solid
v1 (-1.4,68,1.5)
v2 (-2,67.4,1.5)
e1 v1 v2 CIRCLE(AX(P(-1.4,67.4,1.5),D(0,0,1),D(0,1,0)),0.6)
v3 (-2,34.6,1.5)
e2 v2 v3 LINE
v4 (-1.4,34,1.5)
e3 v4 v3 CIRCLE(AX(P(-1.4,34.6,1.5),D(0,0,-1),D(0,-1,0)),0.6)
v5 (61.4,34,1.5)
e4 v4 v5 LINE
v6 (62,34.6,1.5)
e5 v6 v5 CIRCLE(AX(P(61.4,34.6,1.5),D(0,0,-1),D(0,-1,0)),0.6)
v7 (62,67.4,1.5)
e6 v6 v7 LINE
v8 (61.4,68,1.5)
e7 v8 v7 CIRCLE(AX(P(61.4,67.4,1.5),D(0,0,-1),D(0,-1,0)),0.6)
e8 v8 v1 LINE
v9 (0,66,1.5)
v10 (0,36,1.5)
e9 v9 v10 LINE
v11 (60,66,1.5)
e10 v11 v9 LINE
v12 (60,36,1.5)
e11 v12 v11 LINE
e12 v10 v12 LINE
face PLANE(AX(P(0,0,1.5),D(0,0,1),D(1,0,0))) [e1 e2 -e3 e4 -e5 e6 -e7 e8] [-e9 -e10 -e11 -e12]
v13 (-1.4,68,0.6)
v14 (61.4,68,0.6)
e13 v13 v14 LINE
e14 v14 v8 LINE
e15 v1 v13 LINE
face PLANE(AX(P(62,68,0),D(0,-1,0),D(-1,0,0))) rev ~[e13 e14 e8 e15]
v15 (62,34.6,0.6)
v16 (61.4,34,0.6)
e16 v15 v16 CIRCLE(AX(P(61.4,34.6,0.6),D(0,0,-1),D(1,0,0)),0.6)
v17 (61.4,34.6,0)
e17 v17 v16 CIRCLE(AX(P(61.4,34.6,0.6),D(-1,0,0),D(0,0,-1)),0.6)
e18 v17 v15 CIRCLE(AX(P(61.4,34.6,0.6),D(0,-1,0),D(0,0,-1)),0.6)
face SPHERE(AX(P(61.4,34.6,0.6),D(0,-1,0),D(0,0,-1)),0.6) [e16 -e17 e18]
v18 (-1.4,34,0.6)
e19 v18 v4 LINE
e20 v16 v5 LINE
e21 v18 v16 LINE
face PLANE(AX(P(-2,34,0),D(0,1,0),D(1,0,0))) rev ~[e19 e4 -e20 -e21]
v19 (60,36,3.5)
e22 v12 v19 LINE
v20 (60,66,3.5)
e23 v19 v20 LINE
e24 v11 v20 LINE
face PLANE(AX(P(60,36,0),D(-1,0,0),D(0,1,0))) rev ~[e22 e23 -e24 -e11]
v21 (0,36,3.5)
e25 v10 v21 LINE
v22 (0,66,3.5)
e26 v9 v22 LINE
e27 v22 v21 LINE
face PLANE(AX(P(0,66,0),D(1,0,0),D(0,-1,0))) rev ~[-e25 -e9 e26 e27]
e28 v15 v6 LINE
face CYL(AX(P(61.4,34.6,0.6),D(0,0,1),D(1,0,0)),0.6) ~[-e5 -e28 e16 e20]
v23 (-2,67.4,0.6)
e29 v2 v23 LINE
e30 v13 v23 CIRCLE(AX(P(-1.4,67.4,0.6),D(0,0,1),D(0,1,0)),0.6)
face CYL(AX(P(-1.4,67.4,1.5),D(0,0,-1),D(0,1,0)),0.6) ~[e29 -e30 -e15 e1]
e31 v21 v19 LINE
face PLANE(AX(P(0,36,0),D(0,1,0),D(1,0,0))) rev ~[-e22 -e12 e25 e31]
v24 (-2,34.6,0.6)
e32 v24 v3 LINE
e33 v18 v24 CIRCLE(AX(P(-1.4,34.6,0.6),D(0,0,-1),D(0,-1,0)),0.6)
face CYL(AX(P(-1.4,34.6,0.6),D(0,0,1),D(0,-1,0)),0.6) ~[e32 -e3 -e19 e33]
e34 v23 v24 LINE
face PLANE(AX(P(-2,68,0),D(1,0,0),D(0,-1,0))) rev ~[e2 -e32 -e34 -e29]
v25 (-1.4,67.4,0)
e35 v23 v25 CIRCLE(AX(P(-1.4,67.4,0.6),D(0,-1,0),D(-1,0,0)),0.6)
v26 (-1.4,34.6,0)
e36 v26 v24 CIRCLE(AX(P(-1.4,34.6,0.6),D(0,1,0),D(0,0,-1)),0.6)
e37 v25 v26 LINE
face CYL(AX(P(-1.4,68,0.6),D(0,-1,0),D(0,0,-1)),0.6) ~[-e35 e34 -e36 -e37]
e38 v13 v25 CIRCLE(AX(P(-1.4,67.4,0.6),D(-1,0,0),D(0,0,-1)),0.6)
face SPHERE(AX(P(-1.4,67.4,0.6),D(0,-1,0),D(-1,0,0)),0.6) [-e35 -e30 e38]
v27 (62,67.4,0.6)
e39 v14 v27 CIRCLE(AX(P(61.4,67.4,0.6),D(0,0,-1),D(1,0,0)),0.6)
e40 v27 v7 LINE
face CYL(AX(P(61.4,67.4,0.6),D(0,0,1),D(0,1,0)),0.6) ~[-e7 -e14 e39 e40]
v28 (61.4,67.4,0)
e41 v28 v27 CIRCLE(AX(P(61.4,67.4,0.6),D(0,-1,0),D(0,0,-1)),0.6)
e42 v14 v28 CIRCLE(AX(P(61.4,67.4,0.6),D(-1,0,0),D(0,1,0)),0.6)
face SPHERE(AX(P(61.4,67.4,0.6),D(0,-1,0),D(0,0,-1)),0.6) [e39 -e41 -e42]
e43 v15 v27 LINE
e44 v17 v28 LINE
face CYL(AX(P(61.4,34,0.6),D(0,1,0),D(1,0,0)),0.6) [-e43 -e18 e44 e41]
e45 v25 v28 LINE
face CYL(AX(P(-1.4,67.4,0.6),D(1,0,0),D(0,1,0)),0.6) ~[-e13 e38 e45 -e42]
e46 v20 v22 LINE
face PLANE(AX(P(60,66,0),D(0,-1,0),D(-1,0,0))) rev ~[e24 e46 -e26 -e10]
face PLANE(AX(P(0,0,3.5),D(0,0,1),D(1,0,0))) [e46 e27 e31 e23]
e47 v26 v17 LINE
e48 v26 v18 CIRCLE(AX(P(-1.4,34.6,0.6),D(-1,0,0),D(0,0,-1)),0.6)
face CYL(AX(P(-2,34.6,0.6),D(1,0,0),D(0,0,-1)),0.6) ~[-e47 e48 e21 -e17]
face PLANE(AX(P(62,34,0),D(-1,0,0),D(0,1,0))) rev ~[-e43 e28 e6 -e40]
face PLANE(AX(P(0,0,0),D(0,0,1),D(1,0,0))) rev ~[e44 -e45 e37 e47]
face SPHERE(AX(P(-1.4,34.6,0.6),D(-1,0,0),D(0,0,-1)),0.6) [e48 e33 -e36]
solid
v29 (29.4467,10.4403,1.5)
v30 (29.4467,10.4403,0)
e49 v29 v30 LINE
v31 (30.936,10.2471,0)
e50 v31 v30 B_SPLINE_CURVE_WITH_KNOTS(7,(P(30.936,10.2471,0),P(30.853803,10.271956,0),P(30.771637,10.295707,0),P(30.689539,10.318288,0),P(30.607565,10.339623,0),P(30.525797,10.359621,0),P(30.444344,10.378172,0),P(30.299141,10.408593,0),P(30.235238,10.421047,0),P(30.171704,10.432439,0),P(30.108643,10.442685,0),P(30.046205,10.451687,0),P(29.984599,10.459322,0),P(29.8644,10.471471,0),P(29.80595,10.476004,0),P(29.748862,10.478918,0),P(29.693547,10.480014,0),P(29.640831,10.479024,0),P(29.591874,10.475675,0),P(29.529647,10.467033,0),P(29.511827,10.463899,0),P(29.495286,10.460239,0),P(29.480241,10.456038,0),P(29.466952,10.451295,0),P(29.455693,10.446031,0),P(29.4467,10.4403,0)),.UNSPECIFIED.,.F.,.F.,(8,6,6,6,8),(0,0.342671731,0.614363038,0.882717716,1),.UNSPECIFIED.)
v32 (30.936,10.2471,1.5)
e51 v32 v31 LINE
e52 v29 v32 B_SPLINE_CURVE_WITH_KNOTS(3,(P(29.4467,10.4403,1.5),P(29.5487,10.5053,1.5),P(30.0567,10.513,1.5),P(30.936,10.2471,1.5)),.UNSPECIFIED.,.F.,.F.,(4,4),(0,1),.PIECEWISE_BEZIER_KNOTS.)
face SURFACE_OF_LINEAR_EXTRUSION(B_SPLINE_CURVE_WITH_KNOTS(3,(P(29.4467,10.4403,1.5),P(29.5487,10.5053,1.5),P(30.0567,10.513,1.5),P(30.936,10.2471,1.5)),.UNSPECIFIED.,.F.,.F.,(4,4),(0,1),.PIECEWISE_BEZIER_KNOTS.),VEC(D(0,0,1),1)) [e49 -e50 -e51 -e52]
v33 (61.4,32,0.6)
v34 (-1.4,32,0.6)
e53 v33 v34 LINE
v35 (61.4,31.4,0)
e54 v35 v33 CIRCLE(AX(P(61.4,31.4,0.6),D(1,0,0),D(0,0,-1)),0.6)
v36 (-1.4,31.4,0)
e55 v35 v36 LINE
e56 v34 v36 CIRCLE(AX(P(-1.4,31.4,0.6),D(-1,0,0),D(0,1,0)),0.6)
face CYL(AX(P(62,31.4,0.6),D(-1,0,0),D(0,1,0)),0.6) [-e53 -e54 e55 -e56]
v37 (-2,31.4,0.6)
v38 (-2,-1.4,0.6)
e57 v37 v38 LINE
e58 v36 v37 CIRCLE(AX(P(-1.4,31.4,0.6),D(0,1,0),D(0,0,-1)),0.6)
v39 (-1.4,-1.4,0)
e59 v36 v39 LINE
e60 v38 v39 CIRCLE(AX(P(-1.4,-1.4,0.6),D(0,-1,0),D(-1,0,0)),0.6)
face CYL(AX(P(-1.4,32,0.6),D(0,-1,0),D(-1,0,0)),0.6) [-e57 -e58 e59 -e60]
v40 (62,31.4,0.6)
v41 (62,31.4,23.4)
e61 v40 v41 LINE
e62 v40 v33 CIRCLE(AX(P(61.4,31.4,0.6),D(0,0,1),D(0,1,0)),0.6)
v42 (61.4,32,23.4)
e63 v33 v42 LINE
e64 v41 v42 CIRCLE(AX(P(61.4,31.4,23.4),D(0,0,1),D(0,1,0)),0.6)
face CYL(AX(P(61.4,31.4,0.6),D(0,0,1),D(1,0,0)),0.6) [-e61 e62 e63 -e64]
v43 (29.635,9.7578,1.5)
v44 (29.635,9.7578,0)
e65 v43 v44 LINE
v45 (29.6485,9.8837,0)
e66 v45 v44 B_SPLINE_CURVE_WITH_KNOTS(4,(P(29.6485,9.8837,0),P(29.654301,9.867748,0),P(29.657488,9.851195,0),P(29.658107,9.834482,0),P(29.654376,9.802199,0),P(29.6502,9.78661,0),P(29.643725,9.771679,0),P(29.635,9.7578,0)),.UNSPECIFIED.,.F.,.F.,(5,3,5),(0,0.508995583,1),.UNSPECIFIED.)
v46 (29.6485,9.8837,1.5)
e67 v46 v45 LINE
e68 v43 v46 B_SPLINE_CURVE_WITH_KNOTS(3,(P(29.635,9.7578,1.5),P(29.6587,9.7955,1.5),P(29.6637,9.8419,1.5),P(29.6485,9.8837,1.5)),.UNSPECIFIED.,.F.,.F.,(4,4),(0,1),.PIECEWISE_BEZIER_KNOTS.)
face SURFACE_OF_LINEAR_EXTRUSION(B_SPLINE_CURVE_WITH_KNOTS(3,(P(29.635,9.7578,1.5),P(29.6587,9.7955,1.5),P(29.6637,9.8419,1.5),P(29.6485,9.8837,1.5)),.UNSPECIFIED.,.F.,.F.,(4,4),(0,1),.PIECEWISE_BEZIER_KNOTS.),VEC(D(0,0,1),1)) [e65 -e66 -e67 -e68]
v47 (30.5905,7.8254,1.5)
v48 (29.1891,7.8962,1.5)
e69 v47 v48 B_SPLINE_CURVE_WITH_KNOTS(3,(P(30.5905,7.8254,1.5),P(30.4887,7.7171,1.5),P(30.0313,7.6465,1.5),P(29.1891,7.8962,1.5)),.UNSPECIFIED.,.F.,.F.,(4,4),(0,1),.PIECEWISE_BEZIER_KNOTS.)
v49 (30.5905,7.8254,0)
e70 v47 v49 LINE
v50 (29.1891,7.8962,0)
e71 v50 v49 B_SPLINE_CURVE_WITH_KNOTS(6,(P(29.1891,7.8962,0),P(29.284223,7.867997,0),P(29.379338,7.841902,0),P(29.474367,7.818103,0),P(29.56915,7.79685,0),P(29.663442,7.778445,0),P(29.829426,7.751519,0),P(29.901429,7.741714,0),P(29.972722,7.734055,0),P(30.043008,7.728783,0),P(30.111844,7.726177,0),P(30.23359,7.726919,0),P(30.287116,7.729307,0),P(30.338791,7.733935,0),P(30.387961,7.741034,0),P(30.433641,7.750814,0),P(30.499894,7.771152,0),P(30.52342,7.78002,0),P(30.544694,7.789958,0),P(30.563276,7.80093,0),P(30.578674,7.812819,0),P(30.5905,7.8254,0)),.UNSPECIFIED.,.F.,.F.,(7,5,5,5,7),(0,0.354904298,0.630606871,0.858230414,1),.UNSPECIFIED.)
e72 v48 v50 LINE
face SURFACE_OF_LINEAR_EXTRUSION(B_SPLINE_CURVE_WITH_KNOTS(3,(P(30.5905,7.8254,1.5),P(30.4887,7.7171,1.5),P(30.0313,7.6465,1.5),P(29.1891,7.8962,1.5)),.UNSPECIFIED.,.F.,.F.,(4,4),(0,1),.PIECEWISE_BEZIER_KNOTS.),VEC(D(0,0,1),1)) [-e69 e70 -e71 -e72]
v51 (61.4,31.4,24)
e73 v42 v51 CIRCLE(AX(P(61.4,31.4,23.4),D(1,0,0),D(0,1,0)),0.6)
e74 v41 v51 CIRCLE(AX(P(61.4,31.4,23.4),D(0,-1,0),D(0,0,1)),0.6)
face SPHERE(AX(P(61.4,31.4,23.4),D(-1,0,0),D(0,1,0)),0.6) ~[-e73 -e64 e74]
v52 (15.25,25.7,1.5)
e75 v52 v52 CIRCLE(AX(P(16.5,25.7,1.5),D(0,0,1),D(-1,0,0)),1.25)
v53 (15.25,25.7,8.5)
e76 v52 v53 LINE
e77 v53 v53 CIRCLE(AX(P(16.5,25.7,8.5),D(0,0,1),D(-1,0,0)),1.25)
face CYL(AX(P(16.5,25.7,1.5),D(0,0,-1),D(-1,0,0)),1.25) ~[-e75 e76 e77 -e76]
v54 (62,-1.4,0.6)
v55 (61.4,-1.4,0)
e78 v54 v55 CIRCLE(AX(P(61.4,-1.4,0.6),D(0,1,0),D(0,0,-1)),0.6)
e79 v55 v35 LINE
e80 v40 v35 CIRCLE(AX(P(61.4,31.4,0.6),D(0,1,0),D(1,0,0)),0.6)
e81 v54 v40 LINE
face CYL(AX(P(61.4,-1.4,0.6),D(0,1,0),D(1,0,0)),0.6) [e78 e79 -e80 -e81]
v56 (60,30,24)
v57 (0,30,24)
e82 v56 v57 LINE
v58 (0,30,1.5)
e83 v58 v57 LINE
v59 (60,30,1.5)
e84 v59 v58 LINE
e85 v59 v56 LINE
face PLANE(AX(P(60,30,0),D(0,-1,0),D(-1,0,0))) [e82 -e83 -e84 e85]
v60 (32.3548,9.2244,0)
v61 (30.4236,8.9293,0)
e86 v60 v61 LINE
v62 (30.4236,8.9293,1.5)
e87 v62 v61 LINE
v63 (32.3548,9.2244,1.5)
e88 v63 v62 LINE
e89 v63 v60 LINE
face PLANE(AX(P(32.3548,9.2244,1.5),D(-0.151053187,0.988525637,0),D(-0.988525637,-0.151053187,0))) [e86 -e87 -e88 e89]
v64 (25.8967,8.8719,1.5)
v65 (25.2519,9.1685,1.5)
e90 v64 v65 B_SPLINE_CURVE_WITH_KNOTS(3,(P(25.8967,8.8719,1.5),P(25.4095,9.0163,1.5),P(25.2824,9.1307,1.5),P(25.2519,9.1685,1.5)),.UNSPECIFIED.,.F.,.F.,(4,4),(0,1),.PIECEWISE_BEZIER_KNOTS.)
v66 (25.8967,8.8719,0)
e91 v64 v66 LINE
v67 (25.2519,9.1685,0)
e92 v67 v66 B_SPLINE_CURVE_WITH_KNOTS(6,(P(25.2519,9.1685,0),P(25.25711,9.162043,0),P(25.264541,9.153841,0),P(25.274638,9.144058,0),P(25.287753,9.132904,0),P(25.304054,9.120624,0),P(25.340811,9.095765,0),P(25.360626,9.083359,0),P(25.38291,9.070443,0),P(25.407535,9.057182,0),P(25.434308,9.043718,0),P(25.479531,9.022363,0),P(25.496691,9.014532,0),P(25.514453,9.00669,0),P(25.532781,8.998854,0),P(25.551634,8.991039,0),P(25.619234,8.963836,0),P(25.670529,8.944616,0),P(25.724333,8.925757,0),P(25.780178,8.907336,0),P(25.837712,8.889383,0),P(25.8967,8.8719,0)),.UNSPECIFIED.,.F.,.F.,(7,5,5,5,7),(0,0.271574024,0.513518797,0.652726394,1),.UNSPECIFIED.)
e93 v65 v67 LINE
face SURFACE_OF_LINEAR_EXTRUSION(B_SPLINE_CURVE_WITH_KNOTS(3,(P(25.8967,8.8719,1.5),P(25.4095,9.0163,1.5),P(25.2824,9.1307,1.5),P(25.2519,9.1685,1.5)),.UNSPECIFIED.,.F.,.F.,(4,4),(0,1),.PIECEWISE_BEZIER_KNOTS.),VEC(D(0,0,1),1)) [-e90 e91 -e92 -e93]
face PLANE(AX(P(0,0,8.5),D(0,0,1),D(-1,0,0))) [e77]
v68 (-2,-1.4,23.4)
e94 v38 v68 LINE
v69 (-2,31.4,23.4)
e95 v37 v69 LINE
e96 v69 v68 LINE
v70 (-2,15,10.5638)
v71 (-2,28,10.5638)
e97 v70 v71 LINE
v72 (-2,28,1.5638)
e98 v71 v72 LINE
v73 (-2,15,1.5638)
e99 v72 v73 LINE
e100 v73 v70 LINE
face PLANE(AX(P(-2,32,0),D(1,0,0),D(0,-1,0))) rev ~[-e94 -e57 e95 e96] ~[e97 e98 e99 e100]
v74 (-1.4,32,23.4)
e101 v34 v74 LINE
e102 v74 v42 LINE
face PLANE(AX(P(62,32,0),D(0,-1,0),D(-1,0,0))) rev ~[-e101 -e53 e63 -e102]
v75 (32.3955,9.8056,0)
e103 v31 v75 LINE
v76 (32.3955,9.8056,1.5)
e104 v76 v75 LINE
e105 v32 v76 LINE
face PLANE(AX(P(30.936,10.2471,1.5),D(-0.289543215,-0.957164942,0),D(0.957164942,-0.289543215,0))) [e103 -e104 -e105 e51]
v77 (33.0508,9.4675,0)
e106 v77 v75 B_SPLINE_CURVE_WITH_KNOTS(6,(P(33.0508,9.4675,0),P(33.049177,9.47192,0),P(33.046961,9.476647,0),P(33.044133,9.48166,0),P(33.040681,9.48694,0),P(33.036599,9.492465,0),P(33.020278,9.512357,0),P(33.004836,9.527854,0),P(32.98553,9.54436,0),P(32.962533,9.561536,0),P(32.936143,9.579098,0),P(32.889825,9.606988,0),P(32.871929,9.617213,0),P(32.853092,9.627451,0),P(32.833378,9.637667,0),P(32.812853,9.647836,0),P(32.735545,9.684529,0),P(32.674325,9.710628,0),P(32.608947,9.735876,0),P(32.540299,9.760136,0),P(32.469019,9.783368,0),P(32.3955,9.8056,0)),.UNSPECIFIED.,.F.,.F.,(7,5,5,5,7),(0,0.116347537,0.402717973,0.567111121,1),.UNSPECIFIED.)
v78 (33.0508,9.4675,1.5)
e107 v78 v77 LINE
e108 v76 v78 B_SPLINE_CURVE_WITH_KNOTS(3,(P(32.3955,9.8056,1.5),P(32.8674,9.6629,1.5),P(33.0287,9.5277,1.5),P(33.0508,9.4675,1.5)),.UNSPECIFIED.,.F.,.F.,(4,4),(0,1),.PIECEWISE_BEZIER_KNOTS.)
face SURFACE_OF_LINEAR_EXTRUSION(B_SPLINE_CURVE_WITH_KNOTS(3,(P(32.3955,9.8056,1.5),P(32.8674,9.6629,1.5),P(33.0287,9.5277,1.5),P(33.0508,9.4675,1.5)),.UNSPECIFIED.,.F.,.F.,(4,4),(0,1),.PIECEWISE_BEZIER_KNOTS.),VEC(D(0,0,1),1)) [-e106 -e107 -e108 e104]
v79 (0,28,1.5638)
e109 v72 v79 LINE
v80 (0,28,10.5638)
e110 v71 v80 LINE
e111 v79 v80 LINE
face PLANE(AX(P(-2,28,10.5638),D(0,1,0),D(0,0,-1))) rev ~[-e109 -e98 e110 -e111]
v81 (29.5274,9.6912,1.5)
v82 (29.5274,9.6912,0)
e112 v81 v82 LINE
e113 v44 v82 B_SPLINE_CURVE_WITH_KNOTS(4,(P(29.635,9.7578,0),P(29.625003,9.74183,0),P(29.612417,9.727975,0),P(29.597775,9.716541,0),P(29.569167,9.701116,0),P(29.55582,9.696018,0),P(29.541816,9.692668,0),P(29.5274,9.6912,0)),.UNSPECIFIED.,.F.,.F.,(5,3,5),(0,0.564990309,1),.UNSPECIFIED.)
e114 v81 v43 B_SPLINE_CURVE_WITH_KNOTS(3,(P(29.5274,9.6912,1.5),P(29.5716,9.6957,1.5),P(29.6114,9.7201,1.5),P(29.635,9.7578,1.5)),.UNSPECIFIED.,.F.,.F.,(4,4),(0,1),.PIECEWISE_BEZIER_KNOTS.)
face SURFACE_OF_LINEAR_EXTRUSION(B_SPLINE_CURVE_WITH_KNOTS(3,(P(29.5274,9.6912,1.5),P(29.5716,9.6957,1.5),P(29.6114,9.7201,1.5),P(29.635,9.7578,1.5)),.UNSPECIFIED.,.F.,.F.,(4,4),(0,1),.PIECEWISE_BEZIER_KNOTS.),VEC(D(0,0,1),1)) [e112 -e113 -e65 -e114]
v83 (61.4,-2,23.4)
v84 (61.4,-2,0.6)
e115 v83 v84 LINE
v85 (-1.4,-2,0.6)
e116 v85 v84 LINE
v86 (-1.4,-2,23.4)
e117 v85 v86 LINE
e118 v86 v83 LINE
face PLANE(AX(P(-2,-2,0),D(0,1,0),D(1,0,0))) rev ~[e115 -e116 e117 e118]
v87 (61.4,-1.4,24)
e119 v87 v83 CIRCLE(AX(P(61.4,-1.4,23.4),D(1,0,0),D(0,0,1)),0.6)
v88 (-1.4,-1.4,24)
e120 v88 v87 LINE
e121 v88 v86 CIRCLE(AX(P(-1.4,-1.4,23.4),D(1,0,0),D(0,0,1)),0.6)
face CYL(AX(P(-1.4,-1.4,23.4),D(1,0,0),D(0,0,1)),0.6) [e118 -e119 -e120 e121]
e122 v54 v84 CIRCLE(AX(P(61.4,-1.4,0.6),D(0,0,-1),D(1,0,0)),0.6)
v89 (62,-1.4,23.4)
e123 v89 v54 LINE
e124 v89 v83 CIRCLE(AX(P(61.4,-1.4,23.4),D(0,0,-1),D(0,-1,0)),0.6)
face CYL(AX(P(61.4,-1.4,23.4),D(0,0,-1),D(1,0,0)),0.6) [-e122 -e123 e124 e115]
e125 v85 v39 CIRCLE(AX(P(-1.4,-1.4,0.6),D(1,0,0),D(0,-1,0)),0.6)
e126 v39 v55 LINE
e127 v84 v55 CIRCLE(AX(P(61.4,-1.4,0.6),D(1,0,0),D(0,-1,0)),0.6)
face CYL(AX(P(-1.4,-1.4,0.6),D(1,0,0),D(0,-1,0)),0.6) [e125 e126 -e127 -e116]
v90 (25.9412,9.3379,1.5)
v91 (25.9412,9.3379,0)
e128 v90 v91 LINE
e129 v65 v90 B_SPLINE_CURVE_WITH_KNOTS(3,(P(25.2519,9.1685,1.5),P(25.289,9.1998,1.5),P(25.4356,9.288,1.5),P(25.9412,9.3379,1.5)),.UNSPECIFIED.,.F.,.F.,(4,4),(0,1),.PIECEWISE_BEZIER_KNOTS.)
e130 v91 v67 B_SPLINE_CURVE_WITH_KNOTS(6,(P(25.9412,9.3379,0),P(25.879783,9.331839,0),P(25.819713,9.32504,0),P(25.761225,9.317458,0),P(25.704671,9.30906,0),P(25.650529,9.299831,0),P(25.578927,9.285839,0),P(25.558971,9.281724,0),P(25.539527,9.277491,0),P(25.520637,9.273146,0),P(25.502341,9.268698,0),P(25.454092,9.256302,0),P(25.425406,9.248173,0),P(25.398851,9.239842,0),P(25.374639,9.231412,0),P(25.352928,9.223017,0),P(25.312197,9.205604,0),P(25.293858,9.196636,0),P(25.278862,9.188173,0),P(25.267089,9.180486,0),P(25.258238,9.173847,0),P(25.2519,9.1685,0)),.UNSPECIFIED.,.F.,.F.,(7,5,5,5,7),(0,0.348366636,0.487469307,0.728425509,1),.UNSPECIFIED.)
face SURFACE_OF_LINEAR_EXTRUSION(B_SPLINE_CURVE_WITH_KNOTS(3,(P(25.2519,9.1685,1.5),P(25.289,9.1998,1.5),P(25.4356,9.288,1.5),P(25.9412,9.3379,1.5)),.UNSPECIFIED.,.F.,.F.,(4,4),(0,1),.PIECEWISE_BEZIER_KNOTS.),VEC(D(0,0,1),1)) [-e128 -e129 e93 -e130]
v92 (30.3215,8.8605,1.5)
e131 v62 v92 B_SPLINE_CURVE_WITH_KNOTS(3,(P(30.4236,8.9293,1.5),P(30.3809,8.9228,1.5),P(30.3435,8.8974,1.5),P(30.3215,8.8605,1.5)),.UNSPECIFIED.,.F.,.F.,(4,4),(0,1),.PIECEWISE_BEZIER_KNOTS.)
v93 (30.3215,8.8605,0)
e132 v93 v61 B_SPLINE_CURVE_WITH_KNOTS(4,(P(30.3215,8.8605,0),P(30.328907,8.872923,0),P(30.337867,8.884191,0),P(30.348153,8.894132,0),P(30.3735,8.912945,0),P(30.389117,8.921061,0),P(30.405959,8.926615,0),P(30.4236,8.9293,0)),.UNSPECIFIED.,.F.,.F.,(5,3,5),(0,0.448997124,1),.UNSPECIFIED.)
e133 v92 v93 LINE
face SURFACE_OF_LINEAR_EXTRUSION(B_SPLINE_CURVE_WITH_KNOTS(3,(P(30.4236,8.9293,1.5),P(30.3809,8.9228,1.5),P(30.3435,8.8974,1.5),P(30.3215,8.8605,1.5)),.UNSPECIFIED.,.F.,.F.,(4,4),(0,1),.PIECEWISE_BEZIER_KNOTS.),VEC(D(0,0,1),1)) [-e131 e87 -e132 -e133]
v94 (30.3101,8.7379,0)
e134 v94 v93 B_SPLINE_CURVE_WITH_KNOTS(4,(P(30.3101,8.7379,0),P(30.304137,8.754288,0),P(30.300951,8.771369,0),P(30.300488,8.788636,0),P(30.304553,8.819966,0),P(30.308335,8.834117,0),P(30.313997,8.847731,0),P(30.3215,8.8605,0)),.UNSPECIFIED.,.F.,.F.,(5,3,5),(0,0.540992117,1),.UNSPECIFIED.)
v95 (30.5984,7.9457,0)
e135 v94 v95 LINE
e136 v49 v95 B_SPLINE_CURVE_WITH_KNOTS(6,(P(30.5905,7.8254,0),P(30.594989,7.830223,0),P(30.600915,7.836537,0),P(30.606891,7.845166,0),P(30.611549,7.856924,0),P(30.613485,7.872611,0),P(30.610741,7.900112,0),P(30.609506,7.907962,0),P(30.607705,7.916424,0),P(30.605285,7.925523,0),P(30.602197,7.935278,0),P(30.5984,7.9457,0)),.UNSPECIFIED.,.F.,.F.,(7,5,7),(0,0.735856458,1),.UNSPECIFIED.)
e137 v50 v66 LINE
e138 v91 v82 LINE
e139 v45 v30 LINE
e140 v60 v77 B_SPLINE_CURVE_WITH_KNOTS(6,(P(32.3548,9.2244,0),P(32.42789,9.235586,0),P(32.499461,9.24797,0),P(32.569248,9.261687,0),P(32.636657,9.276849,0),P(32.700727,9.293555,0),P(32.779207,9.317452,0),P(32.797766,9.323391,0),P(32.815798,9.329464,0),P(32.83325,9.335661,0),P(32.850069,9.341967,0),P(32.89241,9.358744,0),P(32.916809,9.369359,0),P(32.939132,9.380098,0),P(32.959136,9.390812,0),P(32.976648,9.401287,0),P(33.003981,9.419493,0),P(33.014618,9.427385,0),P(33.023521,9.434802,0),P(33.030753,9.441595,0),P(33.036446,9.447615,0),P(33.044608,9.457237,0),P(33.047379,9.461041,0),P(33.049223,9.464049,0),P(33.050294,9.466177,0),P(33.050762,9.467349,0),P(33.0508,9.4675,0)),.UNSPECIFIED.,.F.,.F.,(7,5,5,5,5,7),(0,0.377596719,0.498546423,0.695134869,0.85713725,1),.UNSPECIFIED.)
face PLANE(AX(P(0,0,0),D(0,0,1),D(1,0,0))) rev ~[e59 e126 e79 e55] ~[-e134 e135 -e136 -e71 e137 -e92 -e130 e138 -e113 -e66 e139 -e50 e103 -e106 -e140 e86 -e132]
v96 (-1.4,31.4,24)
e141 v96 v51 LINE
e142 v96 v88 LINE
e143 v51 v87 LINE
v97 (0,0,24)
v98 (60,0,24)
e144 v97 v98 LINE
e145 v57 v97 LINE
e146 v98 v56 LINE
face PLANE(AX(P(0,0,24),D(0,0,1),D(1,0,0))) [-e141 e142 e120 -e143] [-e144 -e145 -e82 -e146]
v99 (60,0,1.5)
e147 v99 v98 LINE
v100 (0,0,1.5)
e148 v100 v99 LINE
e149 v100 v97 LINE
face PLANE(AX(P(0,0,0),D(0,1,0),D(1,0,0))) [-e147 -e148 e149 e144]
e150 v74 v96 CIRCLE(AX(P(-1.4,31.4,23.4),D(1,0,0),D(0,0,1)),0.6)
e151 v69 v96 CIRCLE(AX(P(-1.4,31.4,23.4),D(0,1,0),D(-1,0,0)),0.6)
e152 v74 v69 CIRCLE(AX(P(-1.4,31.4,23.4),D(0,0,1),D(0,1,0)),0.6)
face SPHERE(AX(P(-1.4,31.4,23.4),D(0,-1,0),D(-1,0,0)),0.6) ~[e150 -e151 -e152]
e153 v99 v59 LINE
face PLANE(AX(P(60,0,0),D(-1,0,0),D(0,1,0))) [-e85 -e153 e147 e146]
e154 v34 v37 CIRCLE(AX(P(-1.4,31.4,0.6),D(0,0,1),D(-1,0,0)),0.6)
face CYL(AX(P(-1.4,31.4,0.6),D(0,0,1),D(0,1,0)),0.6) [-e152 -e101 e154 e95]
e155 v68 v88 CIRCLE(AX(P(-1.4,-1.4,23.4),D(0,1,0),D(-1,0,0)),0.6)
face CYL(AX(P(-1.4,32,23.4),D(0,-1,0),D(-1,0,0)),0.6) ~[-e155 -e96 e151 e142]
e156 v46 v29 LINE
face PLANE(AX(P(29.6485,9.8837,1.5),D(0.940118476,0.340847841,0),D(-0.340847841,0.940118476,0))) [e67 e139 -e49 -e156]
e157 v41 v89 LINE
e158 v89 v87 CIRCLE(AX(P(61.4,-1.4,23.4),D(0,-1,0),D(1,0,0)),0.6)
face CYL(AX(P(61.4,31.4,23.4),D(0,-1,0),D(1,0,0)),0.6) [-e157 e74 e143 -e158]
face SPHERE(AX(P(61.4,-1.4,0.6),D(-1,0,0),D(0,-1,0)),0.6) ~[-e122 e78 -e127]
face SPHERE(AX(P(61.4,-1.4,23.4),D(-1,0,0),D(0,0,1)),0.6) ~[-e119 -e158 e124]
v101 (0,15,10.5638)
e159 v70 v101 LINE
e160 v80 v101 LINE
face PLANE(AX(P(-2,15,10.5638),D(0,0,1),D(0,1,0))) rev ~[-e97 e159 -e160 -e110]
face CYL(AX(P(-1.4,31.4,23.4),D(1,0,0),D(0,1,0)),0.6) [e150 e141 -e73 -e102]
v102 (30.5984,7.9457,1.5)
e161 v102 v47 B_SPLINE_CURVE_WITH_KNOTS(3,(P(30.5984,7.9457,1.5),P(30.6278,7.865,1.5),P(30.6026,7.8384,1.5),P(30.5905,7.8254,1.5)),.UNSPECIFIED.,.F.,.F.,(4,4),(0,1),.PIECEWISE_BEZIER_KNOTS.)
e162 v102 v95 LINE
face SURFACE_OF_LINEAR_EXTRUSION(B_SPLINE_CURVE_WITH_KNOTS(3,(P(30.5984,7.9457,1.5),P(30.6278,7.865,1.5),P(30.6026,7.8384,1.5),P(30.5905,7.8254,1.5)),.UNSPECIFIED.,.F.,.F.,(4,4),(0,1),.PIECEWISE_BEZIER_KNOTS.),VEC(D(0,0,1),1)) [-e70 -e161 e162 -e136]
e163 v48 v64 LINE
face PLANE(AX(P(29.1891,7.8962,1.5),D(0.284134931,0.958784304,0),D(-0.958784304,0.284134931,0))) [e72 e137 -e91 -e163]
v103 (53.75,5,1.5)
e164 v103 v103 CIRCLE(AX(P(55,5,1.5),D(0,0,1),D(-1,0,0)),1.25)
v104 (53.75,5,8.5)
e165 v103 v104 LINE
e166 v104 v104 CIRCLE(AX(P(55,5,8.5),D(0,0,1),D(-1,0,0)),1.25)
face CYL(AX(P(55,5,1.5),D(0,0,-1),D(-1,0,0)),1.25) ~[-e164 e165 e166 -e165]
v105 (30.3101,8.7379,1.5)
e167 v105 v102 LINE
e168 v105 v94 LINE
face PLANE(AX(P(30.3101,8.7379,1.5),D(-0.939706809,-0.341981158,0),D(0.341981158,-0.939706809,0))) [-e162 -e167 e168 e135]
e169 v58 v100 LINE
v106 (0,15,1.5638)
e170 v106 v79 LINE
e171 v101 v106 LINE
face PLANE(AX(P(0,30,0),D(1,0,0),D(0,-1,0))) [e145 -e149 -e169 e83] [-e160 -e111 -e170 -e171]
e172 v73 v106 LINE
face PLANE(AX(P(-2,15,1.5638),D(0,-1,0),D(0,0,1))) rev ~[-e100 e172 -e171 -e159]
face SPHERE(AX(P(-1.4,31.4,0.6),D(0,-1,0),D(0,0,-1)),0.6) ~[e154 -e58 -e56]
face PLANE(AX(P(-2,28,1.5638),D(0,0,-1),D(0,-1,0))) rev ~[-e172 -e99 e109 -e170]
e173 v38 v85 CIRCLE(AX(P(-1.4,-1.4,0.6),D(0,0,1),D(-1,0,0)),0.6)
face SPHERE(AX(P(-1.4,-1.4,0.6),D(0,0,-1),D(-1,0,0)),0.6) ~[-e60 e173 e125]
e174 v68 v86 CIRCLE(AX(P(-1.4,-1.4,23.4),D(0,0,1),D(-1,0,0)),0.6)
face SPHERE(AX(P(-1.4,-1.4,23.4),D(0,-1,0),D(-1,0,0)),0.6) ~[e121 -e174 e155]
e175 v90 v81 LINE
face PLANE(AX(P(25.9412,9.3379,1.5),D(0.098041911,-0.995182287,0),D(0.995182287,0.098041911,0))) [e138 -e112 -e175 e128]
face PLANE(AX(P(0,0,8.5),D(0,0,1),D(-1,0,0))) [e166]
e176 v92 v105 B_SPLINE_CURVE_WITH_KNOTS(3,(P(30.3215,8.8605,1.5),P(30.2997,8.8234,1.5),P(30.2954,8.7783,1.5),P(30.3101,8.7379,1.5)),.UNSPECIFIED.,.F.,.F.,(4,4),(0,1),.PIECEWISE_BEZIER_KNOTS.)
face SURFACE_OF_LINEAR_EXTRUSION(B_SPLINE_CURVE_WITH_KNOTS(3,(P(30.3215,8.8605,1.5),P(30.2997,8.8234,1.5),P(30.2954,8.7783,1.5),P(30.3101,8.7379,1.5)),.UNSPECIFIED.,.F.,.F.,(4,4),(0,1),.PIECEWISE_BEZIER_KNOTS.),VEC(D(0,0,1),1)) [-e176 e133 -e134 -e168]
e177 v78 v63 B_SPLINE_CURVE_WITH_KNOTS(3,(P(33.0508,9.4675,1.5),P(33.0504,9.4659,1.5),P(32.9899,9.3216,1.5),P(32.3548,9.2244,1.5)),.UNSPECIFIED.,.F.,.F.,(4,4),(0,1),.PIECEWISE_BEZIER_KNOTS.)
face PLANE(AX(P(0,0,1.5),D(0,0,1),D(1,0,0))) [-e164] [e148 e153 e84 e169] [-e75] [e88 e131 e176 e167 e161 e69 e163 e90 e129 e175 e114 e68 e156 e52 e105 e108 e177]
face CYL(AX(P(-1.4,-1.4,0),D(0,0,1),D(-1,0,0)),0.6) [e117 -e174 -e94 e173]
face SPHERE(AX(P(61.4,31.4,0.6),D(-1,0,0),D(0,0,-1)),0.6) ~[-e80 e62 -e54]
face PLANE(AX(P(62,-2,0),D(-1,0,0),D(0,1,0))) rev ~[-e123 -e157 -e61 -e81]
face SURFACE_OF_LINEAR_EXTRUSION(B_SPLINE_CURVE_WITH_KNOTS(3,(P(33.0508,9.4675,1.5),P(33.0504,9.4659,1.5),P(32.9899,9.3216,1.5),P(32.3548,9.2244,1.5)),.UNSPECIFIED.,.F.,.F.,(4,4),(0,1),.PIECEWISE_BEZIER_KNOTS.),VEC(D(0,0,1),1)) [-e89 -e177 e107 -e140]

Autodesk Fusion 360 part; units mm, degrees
sketch "Sketch1" plane through (0, 0, 0) normal (0, 0, 1) x (1, 0, 0)
  line L0 (0, 0) -> (60, 0)
  line L1 (60, 0) -> (60, 30)
  line L2 (60, 30) -> (0, 30)
  line L3 (0, 30) -> (0, 0)
  line L4 (-2, -2) -> (62, -2)
  line L5 (62, -2) -> (62, 32)
  line L6 (62, 32) -> (-2, 32)
  line L7 (-2, 32) -> (-2, -2)
  dimension "d1" = 60
  dimension "d2" = 30
  dimension "d3" = 2
extrude "Extrude1" add sketch "Sketch1" along normal blind 1.5 contours L0 L1 L2 L3 makes body 1
extrude "Extrude2" add sketch "Sketch1" along normal blind 24 bodies 1
sketch "Sketch2" plane through (62, 0, 0) normal (1, 0, 0) x (0, 1, 0)
  line L0 (-2, 0) -> (32, 0)
  line L1 (32, 0) -> (32, 24)
  line L2 (32, 24) -> (-2, 24)
  line L3 (-2, 24) -> (-2, 0)
  point P0 (30, 1.5)
sketch "Sketch3" plane through (-2, 0, 0) normal (-1, 0, 0) x (0, -1, 0)
  line L0 (-32, 0) -> (2, 0)
  line L1 (2, 0) -> (2, 24)
  line L2 (2, 24) -> (-32, 24)
  line L3 (-32, 24) -> (-32, 0)
sketch "Sketch1 (2)" plane through (0, 0, 0) normal (0, 0, 1) x (1, 0, 0) in component "cover"
  line L0 (-2, 34) -> (62, 34)
  line L1 (62, 34) -> (62, 68)
  line L2 (62, 68) -> (-2, 68)
  line L3 (-2, 68) -> (-2, 34)
  line L4 (0, 36) -> (60, 36)
  line L5 (60, 36) -> (60, 66)
  line L6 (60, 66) -> (0, 66)
  line L7 (0, 66) -> (0, 36)
  dimension "d21" = 64
  dimension "d22" = 34
  dimension "d23" = -2
extrude "Extrude1'" add sketch "Sketch1 (2)" along normal blind 3.5 separate body contours L4 L5 L6 L7 makes body 2 in component "cover"
extrude "Extrude2'" add sketch "Sketch1 (2)" along normal blind 1.5 bodies 2 in component "cover"
sketch "Sketch4" plane through (0, 0, 0) normal (0, 0, 1) x (1, 0, 0)
  line L0 (-2, 34) -> (62, 34)
  line L1 (62, 34) -> (62, 68)
sketch "Sketch5" plane through (0, 0, 0) normal (0, 0, 1) x (1, 0, 0)
sketch "Sketch7" plane through (0, 0, 1.5) normal (0, 0, 1) x (-1, 0, 0)
  line L0 (0, -30) -> (0, 0)
  line L1 (0, 0) -> (-60, 0)
  line L2 (-60, 0) -> (-60, -30)
  line L3 (-60, -30) -> (0, -30)
  circle A0 centre (-55, -5) radius 1.25
  circle A1 centre (-16.5, -25.7) radius 1.25
  line L4 (2, -32) -> (2, 2)
  spline S0 degree 3 poles (-24.9969, -9.3105) (-24.9532, -9.2408) (-24.9445, -9.1603) (-24.9726, -9.0832) knots 0 0 0 0 1 1 1 1
  spline S1 degree 3 poles (-24.9726, -9.0832) (-25.0142, -8.969) (-25.1468, -8.7941) (-25.8151, -8.596) knots 0 0 0 0 1 1 1 1
  line L5 (-25.8151, -8.596) -> (-29.1072, -7.6203)
  spline S2 degree 3 poles (-29.1072, -7.6203) (-29.9325, -7.3756) (-30.5651, -7.3786) (-30.7999, -7.6281) knots 0 0 0 0 1 1 1 1
  spline S3 degree 3 poles (-30.7999, -7.6281) (-30.9023, -7.7369) (-30.9267, -7.8847) (-30.8687, -8.0441) knots 0 0 0 0 1 1 1 1
  line L6 (-30.8687, -8.0441) -> (-30.6404, -8.6715)
  line L7 (-30.6404, -8.6715) -> (-32.3981, -8.94)
  spline S4 degree 3 poles (-32.3981, -8.94) (-32.8976, -9.0165) (-33.1913, -9.1394) (-33.2959, -9.3156) knots 0 0 0 0 1 1 1 1
  spline S5 degree 3 poles (-33.2959, -9.3156) (-33.3423, -9.3939) (-33.3509, -9.4839) (-33.3201, -9.5687) knots 0 0 0 0 1 1 1 1
  spline S6 degree 3 poles (-33.3201, -9.5687) (-33.249, -9.7638) (-32.974, -9.9314) (-32.479, -10.0813) knots 0 0 0 0 1 1 1 1
  line L8 (-32.479, -10.0813) -> (-31.0194, -10.5228)
  spline S7 degree 3 poles (-31.0194, -10.5228) (-30.674, -10.6273) (-29.524, -10.9436) (-29.2271, -10.6298) knots 0 0 0 0 1 1 1 1
  spline S8 degree 3 poles (-29.2271, -10.6298) (-29.1554, -10.554) (-29.1364, -10.4495) (-29.175, -10.3435) knots 0 0 0 0 1 1 1 1
  line L9 (-29.175, -10.3435) -> (-29.3148, -9.9595)
  line L10 (-29.3148, -9.9595) -> (-25.9131, -9.6243)
  spline S9 degree 3 poles (-25.9131, -9.6243) (-25.2264, -9.5566) (-25.0614, -9.4128) (-24.9969, -9.3105) knots 0 0 0 0 1 1 1 1
  line L11 (-25.9412, -9.3379) -> (-29.5274, -9.6912)
  spline S10 degree 3 poles (-29.5274, -9.6912) (-29.5716, -9.6957) (-29.6114, -9.7201) (-29.635, -9.7578) knots 0 0 0 0 1 1 1 1
  spline S11 degree 3 poles (-29.635, -9.7578) (-29.6587, -9.7955) (-29.6637, -9.8419) (-29.6485, -9.8837) knots 0 0 0 0 1 1 1 1
  line L12 (-29.6485, -9.8837) -> (-29.4467, -10.4403)
  spline S12 degree 3 poles (-29.4467, -10.4403) (-29.5487, -10.5053) (-30.0567, -10.513) (-30.936, -10.2471) knots 0 0 0 0 1 1 1 1
  line L13 (-30.936, -10.2471) -> (-32.3955, -9.8056)
  spline S13 degree 3 poles (-32.3955, -9.8056) (-32.8674, -9.6629) (-33.0287, -9.5277) (-33.0508, -9.4675) knots 0 0 0 0 1 1 1 1
  spline S14 degree 3 poles (-33.0508, -9.4675) (-33.0504, -9.4659) (-32.9899, -9.3216) (-32.3548, -9.2244) knots 0 0 0 0 1 1 1 1
  line L14 (-32.3548, -9.2244) -> (-30.4236, -8.9293)
  spline S15 degree 3 poles (-30.4236, -8.9293) (-30.3809, -8.9228) (-30.3435, -8.8974) (-30.3215, -8.8605) knots 0 0 0 0 1 1 1 1
  spline S16 degree 3 poles (-30.3215, -8.8605) (-30.2997, -8.8234) (-30.2954, -8.7783) (-30.3101, -8.7379) knots 0 0 0 0 1 1 1 1
  line L15 (-30.3101, -8.7379) -> (-30.5984, -7.9457)
  spline S17 degree 3 poles (-30.5984, -7.9457) (-30.6278, -7.865) (-30.6026, -7.8384) (-30.5905, -7.8254) knots 0 0 0 0 1 1 1 1
  spline S18 degree 3 poles (-30.5905, -7.8254) (-30.4887, -7.7171) (-30.0313, -7.6465) (-29.1891, -7.8962) knots 0 0 0 0 1 1 1 1
  line L16 (-29.1891, -7.8962) -> (-25.8967, -8.8719)
  spline S19 degree 3 poles (-25.8967, -8.8719) (-25.4095, -9.0163) (-25.2824, -9.1307) (-25.2519, -9.1685) knots 0 0 0 0 1 1 1 1
  spline S20 degree 3 poles (-25.2519, -9.1685) (-25.289, -9.1998) (-25.4356, -9.288) (-25.9412, -9.3379) knots 0 0 0 0 1 1 1 1
  dimension "d35" = 2.5
  dimension "d36" = 2.5
  dimension "d52" = 18.5
extrude "Extrude12" cut sketch "Sketch7" against normal blind 2.5 contours L11 S10 S11 L12 S12 L13 S13 S14 L14 S15 S16 L15 S17 S18 L16 S19 S20 bodies 1
extrude "Extrude6" add sketch "Sketch7" along normal blind 7 contours A1 bodies 1
extrude "Extrude7" add sketch "Sketch7" along normal blind 7 contours A0 bodies 1
sketch "Sketch8" plane through (-2, 15, 12) normal (-1, 0, 0) x (0, -1, 0)
  line L0 (-13, -10.4362) -> (0, -10.4362)
  line L1 (0, -10.4362) -> (0, -1.4362)
  line L2 (0, -1.4362) -> (-13, -1.4362)
  line L3 (-13, -1.4362) -> (-13, -10.4362)
  point P0 (-17, -10.5)
  dimension "d47" = 13
  dimension "d48" = 9
  dimension "d57" = 4
extrude "Extrude10" cut sketch "Sketch8" against normal blind 2.5 bodies 1
fillet "Fillet1" radius 0.6 1 edges at (-2, 15, 24) on bodies 1
fillet "Fillet2" radius 0.6 3 edges at (-2, -2, 11.7) (-1.8243, -2, 23.8243) (30.3, -2, 24) on bodies 1
fillet "Fillet3" radius 0.6 3 edges at (-2, 15.3, 0) (-1.8243, -1.8243, 0) (30.3, -2, 0) on bodies 1
fillet "Fillet4" radius 0.6 5 edges at (30.3, 32, 0) (-1.8243, 32, 0.1757) (-2, 32, 12) (-1.8243, 32, 23.8243) (30.3, 32, 24) on bodies 1
fillet "Fillet5" radius 0.6 8 edges at (62, 31.8243, 23.8243) (62, 15, 24) (62, -1.8243, 23.8243) (62, -2, 12) (62, -1.8243, 0.1757) (62, 15, 0) (62, 31.8243, 0.1757) (62, 32, 12) on bodies 1
fillet "Fillet1'" radius 0.6 1 edges at (62, 51, 0) on bodies 2 in component "cover"
fillet "Fillet2'" radius 0.6 3 edges at (29.7, 34, 0) (61.8243, 34, 0.1757) (62, 34, 1.05) on bodies 2 in component "cover"
fillet "Fillet3'" radius 0.6 3 edges at (-2, 51.3, 0) (-2, 34.1757, 0.1757) (-2, 34, 1.05) on bodies 2 in component "cover"
fillet "Fillet4'" radius 0.6 5 edges at (62, 68, 1.05) (61.8243, 68, 0.1757) (30, 68, 0) (-1.8243, 68, 0.1757) (-2, 68, 1.05) on bodies 2 in component "cover"
sketch "Sketch9" plane through (0, 0, 1.5) normal (0, 0, 1) x (-1, 0, 0)
component "cover" placed x (1, 0, 0) y (0, 1, 0) z (0, 0, 1) at (0, 0, 0)
